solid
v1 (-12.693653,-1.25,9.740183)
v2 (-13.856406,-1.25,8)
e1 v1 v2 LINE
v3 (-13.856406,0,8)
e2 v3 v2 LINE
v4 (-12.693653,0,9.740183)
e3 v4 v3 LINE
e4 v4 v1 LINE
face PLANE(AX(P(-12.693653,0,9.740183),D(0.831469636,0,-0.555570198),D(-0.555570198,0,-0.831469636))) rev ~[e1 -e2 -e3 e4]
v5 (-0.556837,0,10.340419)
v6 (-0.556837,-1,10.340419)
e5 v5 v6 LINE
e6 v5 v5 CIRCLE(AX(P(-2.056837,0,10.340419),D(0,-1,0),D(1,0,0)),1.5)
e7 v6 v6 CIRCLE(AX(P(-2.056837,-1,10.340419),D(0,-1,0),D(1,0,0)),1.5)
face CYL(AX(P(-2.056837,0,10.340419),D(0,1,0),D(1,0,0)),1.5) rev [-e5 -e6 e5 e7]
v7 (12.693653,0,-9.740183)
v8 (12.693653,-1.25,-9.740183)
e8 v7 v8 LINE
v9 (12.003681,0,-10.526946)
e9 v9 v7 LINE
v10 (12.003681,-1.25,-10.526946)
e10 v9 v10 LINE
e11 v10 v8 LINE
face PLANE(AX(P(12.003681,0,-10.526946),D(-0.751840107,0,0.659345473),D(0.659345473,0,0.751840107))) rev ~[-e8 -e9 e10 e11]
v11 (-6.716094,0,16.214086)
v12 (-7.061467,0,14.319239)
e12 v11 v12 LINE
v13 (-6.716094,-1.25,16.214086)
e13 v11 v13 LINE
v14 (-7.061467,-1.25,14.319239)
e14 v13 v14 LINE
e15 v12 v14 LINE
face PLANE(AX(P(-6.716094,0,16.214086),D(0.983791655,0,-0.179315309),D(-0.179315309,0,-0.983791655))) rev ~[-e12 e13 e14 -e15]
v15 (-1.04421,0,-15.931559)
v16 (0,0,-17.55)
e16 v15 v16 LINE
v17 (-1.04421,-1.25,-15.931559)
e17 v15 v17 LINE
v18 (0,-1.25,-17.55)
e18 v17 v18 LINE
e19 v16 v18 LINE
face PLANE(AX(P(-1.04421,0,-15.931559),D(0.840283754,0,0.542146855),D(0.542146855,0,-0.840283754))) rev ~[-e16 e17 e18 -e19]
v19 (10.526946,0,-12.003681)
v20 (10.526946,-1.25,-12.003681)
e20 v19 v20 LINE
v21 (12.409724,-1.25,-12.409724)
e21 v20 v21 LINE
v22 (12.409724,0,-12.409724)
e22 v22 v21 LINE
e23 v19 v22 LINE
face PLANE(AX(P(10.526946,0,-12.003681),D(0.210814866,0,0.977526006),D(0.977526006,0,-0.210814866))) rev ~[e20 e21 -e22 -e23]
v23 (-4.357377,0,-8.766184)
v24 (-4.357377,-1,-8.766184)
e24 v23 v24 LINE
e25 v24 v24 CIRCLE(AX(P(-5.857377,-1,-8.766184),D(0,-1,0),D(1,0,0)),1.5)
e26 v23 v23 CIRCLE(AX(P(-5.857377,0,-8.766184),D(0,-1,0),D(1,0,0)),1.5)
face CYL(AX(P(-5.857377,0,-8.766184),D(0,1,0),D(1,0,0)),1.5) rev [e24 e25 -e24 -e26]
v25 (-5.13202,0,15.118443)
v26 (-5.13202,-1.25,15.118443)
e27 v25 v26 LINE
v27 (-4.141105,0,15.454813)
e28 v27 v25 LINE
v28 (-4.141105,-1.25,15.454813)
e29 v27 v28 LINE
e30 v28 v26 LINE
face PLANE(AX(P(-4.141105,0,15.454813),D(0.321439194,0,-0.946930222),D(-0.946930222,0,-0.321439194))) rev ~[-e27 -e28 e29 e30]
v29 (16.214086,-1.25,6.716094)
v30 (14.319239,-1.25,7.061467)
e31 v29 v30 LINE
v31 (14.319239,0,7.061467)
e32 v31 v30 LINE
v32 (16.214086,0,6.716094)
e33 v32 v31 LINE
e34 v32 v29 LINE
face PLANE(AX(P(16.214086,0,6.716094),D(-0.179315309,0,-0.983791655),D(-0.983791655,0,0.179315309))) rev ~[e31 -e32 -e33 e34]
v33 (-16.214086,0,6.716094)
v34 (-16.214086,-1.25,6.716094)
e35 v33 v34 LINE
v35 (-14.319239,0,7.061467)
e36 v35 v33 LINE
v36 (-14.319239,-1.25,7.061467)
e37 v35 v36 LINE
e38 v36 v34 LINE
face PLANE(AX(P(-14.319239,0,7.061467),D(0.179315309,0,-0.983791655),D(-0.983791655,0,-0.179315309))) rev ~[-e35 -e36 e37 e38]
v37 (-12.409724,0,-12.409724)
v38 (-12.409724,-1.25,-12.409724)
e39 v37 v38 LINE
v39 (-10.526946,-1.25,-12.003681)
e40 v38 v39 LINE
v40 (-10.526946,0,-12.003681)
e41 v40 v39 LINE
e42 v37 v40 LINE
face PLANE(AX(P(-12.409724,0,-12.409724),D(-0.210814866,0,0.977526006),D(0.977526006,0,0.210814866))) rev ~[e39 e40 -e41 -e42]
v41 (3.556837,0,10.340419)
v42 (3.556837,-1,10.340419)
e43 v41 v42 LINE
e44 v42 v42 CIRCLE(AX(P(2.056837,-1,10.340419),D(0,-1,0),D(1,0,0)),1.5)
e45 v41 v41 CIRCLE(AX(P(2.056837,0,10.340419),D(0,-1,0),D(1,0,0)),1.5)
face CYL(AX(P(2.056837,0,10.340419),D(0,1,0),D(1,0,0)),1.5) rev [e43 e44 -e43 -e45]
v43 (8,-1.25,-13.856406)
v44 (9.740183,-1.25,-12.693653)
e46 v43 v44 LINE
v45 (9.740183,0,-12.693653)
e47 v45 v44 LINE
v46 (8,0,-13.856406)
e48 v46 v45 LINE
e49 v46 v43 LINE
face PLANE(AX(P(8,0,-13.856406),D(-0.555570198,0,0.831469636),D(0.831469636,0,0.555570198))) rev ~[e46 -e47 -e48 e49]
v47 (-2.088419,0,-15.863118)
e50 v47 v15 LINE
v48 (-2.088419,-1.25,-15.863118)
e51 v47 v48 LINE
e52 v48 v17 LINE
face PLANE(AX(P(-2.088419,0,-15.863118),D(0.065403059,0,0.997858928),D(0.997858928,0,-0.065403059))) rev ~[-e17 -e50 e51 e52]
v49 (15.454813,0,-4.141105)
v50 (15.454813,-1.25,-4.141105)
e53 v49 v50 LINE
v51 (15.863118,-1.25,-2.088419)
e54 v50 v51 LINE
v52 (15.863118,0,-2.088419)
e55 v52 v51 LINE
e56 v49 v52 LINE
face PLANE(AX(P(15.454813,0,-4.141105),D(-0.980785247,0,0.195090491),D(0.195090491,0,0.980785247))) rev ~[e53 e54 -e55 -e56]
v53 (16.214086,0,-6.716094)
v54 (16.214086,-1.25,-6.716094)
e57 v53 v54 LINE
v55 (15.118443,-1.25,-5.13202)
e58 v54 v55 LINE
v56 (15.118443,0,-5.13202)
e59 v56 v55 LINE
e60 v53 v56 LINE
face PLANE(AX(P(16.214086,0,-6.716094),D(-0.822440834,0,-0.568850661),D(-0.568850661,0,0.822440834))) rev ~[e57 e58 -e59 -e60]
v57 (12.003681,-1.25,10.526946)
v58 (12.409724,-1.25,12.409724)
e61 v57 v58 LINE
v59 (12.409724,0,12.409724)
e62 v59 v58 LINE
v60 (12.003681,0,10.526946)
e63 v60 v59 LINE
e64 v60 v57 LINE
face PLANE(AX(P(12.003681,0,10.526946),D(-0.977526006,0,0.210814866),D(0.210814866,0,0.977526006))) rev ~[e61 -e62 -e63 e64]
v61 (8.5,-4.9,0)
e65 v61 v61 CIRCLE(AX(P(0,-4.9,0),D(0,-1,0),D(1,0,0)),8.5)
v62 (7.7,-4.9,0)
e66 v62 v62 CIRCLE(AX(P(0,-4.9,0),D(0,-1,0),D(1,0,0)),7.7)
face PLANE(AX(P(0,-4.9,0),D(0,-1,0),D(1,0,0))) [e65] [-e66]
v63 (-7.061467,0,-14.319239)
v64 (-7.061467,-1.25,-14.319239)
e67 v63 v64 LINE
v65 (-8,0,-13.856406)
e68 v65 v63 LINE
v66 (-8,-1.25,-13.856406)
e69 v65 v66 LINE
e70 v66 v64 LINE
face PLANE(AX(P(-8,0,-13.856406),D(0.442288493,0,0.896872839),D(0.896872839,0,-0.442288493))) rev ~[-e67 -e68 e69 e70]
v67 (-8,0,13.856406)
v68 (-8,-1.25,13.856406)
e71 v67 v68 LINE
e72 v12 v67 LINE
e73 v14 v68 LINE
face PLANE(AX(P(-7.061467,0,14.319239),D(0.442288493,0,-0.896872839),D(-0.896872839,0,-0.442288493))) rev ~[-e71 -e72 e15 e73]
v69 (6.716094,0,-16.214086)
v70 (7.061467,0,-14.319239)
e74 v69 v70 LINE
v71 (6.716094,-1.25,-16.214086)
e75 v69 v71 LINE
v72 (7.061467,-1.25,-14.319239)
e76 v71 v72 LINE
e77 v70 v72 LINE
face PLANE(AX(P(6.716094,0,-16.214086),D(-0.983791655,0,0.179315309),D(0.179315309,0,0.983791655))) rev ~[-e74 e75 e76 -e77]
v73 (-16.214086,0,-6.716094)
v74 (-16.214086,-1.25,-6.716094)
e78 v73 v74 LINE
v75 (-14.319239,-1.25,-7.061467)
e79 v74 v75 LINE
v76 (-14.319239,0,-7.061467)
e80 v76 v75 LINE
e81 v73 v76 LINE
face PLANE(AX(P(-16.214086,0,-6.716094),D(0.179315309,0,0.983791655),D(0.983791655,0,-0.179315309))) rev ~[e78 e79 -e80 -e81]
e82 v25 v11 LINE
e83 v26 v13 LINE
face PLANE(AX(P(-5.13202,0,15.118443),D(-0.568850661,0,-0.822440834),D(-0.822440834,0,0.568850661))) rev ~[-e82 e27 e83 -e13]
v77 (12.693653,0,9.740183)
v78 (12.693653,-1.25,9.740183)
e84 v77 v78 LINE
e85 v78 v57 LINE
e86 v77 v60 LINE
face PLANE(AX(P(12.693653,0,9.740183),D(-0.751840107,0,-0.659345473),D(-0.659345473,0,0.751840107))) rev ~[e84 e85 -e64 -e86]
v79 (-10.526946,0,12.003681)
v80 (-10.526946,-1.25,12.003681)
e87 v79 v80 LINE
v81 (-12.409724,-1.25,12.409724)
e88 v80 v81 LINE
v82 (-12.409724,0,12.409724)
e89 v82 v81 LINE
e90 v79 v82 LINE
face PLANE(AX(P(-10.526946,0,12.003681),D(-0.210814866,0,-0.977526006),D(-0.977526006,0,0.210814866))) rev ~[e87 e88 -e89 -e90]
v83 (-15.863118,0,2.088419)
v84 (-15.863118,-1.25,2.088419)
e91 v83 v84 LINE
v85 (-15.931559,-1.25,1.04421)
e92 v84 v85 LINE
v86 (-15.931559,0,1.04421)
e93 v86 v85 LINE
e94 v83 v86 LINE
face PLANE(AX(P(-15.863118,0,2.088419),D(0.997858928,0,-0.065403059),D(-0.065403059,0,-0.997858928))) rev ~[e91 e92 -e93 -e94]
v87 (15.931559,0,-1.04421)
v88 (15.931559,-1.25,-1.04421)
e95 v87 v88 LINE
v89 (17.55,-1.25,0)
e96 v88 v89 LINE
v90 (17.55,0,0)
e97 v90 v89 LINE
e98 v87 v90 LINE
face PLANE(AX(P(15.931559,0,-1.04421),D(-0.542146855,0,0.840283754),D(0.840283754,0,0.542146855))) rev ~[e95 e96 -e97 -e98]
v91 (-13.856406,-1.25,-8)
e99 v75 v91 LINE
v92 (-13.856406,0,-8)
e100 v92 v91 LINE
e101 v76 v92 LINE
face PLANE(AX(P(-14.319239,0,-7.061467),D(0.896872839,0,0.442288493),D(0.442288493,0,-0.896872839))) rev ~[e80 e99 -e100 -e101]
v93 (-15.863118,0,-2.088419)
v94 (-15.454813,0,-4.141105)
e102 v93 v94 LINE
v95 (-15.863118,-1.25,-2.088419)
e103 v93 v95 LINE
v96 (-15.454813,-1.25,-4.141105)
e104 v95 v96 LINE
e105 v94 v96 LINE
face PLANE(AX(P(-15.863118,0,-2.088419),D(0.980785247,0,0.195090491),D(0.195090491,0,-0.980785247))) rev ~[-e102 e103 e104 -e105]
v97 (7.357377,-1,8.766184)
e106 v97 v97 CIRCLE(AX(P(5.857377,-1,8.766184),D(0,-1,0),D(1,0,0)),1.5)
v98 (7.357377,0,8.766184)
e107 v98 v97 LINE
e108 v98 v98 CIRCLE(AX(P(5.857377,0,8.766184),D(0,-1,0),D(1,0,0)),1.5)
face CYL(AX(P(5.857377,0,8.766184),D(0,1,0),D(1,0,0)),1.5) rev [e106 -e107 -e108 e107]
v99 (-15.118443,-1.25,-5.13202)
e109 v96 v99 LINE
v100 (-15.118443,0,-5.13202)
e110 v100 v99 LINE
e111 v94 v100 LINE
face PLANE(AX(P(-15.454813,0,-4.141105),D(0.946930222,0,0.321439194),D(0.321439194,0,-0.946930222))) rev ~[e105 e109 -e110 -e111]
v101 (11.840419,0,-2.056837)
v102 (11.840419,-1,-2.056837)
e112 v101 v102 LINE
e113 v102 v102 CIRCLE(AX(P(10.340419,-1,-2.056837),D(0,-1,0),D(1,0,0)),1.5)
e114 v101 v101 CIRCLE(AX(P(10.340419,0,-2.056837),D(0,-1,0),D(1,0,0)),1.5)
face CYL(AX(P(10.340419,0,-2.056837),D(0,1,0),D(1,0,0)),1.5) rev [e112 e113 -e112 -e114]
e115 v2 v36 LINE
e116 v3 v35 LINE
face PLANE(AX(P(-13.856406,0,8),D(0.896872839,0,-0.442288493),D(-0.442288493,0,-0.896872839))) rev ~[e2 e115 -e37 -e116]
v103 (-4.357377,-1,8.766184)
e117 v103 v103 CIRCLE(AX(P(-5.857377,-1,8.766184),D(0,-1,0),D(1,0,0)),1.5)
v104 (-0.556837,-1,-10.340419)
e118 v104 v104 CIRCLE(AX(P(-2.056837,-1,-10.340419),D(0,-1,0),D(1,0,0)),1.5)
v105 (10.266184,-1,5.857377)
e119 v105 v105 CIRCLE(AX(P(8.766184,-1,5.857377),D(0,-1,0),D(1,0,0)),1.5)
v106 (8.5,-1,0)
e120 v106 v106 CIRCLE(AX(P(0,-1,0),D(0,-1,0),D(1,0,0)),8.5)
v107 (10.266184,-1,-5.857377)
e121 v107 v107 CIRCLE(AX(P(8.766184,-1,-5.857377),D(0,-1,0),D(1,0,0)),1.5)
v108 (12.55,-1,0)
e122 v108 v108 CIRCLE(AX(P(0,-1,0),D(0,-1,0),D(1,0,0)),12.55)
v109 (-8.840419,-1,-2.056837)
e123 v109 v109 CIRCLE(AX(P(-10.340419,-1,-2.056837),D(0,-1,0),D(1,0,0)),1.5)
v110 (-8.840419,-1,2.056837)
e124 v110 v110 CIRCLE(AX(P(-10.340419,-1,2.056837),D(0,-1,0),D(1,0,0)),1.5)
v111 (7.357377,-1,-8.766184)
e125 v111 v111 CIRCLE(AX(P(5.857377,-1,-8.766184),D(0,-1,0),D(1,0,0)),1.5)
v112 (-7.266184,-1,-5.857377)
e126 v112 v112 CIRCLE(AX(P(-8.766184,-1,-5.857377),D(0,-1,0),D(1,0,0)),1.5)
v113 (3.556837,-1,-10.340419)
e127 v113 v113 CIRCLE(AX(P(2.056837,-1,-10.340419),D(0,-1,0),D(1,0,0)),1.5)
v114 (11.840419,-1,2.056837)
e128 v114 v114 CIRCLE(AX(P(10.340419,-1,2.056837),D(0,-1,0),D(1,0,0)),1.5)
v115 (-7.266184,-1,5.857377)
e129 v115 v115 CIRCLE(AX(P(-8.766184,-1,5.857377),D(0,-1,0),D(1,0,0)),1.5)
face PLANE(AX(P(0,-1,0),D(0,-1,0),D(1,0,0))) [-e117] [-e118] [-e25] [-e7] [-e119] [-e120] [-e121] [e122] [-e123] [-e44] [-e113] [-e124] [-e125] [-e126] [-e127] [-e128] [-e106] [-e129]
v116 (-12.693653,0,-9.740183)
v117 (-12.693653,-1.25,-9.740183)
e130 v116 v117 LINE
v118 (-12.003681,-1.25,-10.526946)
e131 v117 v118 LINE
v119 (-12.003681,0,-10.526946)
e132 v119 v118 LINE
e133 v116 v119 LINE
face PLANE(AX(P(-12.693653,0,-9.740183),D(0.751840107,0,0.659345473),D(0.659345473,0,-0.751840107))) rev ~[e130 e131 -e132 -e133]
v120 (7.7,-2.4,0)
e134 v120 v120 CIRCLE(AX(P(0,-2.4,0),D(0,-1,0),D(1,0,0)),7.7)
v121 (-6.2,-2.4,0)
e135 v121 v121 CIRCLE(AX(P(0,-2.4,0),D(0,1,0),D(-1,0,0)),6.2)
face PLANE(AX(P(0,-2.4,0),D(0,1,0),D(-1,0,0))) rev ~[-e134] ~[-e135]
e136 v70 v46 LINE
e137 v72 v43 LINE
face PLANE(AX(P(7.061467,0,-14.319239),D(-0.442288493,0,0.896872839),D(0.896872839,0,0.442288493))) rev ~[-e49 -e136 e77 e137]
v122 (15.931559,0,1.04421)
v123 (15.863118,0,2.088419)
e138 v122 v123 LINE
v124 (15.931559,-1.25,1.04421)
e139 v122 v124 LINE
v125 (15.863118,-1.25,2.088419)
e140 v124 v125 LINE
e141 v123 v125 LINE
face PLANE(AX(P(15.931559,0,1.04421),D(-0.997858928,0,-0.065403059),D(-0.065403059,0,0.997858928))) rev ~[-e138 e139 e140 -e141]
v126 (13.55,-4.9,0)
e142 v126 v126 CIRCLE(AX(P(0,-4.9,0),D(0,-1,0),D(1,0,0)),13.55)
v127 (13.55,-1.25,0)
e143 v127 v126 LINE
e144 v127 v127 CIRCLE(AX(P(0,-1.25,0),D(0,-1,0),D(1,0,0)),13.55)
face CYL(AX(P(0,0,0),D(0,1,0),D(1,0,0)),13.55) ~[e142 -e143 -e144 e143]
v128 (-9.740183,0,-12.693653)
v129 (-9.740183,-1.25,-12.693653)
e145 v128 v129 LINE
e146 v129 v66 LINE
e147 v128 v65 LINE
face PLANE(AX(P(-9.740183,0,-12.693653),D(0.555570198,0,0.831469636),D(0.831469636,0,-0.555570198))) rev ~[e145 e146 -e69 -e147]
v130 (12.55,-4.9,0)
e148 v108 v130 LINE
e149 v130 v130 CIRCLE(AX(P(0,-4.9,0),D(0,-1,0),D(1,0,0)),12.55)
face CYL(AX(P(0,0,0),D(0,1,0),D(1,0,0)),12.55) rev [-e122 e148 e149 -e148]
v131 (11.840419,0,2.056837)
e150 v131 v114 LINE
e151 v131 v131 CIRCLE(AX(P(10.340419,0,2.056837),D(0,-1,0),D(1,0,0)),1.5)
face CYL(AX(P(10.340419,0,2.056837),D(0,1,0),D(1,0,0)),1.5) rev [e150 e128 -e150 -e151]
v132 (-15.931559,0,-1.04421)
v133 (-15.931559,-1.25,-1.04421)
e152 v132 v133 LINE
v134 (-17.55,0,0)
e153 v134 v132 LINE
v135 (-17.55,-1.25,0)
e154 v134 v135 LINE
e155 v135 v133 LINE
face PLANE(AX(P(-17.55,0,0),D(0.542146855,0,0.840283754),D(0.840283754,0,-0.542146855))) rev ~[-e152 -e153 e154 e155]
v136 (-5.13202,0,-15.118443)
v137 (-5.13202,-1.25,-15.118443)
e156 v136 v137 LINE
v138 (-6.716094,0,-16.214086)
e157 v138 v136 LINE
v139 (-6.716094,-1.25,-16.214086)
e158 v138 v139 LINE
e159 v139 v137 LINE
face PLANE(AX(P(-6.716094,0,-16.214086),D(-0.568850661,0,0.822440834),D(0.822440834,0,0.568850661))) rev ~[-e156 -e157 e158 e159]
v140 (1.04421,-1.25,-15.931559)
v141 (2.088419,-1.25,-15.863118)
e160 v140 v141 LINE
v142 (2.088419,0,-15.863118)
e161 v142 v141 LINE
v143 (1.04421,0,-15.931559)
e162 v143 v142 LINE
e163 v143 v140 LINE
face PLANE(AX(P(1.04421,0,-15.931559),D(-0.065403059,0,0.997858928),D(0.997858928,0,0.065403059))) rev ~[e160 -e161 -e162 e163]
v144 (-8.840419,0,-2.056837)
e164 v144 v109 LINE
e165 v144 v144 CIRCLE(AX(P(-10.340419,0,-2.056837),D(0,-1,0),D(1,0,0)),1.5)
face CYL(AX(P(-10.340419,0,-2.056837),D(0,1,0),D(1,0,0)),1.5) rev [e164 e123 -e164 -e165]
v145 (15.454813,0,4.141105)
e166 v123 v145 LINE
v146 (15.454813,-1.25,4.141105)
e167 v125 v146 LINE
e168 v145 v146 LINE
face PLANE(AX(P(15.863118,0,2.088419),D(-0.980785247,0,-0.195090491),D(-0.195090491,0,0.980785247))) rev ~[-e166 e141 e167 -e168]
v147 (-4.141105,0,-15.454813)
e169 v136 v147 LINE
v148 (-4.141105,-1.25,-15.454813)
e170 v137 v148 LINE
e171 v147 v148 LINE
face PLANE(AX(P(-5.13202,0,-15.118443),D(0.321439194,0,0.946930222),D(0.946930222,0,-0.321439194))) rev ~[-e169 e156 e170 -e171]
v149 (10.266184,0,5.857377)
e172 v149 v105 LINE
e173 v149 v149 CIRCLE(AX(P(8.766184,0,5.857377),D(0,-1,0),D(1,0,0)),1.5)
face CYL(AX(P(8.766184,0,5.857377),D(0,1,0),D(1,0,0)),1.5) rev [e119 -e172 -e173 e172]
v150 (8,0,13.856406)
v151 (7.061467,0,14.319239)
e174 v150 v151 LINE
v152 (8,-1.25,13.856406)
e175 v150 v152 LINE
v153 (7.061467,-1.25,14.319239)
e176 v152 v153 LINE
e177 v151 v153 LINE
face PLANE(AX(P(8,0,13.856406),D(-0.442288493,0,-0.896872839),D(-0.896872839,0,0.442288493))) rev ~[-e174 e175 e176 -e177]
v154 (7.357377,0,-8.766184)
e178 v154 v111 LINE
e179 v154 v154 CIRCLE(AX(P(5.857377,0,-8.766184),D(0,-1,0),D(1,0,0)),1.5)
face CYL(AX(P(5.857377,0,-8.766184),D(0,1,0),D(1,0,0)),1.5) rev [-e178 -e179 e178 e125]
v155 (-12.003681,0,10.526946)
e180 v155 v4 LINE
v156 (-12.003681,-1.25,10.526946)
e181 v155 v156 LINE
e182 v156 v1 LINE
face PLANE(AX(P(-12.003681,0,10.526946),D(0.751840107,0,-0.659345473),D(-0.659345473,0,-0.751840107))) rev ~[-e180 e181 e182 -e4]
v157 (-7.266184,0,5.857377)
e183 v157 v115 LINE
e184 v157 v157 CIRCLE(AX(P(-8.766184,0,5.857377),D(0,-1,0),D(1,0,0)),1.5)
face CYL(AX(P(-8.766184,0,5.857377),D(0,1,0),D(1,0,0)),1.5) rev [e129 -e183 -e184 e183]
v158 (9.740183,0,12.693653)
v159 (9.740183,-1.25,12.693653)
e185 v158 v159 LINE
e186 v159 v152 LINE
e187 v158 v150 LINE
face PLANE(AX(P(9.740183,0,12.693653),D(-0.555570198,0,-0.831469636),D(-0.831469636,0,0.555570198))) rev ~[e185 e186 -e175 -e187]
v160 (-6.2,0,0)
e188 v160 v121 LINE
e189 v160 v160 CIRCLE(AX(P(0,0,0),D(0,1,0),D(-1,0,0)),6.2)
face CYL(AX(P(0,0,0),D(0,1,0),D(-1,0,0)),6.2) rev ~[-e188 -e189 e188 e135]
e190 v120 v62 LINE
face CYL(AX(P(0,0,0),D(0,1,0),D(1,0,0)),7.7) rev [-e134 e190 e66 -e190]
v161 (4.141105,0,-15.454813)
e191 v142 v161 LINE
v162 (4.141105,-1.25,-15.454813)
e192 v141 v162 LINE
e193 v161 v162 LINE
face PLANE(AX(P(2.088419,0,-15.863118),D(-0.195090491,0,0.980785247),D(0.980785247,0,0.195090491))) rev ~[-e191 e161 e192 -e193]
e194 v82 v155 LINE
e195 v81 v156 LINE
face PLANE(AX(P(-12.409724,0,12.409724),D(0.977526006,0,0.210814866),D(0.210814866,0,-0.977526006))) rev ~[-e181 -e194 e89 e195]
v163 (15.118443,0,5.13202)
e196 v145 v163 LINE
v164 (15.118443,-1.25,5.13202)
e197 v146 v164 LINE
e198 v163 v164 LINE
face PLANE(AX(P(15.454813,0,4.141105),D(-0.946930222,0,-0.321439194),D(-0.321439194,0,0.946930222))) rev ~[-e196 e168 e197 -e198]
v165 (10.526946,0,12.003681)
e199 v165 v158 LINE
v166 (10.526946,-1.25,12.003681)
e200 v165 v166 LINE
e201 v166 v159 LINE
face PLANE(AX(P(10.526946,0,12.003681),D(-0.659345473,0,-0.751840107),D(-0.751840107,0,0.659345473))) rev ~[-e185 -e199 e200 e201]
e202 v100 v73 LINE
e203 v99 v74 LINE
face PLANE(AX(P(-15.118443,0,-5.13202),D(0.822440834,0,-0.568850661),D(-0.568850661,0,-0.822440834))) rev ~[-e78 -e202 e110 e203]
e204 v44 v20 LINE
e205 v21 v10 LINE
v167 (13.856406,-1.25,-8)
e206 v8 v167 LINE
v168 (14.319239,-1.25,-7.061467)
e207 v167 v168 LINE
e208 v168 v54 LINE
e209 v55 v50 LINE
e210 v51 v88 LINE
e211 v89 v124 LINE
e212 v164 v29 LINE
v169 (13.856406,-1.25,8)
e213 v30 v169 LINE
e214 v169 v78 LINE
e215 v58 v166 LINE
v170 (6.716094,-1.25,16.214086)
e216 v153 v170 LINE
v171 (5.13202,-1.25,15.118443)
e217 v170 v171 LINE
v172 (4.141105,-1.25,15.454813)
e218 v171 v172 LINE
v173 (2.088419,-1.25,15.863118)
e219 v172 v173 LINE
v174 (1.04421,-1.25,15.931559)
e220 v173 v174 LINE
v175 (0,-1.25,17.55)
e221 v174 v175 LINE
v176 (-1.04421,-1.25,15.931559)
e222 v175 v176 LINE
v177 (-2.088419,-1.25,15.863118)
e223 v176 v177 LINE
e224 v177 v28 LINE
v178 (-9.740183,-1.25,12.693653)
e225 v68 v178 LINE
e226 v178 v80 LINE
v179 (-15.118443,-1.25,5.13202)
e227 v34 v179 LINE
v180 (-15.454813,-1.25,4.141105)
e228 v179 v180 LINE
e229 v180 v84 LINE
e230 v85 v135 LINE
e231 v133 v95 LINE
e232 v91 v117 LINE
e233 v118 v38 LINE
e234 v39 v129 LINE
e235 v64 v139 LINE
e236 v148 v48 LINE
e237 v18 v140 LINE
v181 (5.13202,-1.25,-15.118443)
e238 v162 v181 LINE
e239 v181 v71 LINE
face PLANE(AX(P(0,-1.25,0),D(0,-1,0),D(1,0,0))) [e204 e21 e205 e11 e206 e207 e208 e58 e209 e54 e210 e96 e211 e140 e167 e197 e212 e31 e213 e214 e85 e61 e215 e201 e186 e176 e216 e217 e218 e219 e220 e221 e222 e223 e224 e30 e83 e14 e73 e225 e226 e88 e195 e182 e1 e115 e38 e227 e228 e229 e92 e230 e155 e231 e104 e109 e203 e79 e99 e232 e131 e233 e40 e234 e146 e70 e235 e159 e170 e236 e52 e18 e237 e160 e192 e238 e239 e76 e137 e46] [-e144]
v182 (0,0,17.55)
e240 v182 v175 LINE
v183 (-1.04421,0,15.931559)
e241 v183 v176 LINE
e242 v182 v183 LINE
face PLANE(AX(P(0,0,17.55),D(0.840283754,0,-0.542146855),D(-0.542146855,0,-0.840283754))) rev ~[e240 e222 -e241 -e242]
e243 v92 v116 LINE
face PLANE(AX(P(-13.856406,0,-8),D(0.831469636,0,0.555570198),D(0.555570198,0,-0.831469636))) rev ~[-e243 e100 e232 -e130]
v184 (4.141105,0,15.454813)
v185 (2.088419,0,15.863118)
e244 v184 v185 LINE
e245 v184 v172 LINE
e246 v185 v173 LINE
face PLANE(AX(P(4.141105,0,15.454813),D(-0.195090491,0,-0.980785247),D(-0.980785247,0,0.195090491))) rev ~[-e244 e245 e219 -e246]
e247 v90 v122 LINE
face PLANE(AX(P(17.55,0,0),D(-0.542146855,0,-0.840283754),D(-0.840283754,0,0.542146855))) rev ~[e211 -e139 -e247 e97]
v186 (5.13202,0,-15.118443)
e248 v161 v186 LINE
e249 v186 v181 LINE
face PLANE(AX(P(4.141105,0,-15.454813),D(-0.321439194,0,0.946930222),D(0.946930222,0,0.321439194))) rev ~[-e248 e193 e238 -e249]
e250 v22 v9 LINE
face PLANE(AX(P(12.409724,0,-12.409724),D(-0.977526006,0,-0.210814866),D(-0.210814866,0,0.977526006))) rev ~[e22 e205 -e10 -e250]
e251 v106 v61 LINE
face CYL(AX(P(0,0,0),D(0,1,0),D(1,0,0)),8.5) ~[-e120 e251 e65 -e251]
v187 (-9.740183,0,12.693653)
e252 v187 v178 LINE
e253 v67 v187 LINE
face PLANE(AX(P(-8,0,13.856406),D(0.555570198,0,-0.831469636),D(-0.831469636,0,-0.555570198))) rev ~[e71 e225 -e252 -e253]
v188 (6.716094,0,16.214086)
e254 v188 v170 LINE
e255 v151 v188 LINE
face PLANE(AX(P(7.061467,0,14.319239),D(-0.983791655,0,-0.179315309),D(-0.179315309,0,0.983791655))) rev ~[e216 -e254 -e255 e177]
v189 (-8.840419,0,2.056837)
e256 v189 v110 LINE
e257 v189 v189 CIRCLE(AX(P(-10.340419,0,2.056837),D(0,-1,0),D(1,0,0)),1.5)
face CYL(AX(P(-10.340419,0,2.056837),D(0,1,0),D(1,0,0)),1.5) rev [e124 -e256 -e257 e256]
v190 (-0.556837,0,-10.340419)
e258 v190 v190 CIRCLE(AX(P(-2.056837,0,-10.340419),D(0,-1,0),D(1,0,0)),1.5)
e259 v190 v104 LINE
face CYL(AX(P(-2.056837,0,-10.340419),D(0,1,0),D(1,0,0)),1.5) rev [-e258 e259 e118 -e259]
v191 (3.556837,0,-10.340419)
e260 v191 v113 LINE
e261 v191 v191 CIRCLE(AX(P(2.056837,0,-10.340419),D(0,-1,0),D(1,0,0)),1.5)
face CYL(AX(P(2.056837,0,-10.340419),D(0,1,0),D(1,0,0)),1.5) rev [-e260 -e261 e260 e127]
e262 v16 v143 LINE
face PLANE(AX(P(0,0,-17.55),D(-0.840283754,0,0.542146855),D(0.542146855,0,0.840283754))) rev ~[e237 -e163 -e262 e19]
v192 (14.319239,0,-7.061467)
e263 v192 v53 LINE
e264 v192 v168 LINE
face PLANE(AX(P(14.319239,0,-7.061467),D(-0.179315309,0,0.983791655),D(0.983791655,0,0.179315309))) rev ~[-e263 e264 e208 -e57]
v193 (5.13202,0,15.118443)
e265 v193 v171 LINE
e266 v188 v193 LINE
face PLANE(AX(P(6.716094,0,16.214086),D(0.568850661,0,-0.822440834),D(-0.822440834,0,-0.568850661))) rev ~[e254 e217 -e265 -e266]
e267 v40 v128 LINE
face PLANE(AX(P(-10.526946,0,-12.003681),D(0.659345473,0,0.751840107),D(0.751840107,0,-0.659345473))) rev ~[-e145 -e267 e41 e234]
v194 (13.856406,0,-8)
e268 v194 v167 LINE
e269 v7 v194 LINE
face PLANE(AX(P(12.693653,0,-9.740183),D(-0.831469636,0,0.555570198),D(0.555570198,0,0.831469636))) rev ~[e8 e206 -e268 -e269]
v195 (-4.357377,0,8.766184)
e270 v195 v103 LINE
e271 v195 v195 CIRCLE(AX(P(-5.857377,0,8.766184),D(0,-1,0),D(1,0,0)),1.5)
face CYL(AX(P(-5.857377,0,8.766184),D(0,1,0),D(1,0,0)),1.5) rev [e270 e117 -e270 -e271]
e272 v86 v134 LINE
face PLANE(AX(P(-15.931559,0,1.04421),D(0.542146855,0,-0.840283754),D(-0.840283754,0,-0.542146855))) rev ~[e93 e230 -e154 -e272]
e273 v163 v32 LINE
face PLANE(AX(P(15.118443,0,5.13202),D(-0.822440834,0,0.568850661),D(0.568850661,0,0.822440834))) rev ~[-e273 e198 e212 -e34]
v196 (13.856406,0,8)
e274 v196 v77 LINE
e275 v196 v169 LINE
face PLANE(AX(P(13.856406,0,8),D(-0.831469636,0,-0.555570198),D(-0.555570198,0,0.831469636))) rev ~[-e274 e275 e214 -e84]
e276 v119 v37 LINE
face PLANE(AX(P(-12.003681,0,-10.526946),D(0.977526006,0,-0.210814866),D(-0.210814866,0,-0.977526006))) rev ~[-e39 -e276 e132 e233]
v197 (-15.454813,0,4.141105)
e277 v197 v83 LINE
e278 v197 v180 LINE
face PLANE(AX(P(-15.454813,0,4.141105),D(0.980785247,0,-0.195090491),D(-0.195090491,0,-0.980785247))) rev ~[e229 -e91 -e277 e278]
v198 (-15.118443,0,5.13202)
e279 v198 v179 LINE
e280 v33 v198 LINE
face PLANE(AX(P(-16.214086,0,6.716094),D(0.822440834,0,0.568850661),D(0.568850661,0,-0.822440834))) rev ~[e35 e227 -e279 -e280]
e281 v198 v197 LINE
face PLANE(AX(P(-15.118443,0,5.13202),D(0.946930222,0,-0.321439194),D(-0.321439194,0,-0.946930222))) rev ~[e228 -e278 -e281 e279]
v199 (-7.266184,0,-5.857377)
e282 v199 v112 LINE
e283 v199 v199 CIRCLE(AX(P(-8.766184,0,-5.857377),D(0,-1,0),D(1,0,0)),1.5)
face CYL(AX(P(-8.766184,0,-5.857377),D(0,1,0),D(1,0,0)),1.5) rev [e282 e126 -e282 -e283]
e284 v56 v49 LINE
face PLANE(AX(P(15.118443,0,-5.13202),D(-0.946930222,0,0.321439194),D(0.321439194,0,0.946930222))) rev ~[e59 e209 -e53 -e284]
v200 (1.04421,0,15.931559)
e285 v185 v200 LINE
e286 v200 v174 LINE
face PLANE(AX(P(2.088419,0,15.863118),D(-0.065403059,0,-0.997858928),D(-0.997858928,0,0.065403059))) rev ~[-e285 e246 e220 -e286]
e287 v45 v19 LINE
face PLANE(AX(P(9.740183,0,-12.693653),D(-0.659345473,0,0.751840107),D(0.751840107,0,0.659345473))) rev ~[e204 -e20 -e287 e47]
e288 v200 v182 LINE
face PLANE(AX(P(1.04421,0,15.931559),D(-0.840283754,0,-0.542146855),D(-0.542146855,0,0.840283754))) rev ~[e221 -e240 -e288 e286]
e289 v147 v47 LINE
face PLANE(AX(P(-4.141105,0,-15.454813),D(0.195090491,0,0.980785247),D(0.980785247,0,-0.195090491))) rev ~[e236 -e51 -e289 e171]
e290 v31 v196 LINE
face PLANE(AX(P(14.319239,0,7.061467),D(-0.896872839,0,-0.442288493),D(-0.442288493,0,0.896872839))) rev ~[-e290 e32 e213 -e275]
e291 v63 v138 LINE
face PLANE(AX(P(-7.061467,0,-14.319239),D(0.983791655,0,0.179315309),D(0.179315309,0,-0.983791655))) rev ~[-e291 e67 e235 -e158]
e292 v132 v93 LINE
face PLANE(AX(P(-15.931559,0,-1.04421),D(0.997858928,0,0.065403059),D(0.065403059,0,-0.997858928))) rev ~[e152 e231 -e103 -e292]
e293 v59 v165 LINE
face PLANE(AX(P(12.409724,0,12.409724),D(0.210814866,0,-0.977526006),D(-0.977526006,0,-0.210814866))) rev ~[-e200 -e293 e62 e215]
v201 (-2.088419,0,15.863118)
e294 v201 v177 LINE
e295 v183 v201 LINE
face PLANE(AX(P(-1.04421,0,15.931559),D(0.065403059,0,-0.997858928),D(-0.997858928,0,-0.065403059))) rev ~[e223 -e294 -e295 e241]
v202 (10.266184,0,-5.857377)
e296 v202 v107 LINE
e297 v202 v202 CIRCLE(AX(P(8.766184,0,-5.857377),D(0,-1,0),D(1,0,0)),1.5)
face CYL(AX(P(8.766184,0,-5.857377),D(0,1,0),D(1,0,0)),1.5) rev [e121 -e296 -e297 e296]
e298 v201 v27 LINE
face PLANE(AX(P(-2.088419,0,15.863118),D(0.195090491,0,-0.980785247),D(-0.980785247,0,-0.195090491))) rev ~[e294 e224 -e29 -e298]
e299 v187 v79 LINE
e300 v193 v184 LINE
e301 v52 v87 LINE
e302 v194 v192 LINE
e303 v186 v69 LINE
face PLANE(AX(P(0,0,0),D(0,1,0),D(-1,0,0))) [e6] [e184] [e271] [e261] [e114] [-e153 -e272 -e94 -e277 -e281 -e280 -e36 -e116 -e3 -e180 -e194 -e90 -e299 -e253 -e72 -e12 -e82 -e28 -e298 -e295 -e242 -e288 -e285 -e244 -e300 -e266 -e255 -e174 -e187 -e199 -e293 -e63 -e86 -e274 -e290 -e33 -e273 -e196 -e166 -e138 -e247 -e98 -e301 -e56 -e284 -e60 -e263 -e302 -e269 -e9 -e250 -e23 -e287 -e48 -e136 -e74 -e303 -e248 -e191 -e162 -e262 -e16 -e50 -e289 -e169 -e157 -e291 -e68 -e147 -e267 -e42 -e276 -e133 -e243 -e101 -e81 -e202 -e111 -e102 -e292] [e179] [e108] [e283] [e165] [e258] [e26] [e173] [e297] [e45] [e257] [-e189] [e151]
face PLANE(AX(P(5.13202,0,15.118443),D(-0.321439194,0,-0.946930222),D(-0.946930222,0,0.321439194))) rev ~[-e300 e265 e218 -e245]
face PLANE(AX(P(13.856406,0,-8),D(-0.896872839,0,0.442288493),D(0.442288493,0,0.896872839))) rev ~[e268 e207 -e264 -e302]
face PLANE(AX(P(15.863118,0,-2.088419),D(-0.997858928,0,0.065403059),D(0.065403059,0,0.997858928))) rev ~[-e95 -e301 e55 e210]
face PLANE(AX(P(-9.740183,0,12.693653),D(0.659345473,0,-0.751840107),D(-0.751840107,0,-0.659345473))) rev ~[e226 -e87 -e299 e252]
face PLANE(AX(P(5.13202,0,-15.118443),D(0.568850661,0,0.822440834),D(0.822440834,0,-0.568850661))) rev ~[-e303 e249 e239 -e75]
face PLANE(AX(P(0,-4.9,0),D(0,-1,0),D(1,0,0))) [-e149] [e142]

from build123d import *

# Parameters (mm, degrees)
F0_R     = 13.55
F1_DEPTH = 1.25
F0_R_2   = 12.55
F2_DEPTH = 4.9
F0_R_3   = 1.5
F0_R_4   = 8.5
F3_DEPTH = 1
F0_R_5   = 7.7
F4_DEPTH = 4.9
F5_R     = 7.7
F5_R_2   = 6.2
F6_DEPTH = 2.4


with BuildPart() as f1:
    # F0 (on Front) → F1 (new body)
    with BuildSketch(Plane.XZ):
        Polygon((4.141105, 15.454813), (2.088419, 15.863118), (1.04421, 15.931559), (0, 17.55), (-1.04421, 15.931559), (-2.088419, 15.863118), (-4.141105, 15.454813), (-5.13202, 15.118443), (-6.716094, 16.214086), (-7.061467, 14.319239), (-8, 13.856406), (-9.740183, 12.693653), (-10.526946, 12.003681), (-12.409724, 12.409724), (-12.003681, 10.526946), (-12.693653, 9.740183), (-13.856406, 8), (-14.319239, 7.061467), (-16.214086, 6.716094), (-15.118443, 5.13202), (-15.454813, 4.141105), (-15.863118, 2.088419), (-15.931559, 1.04421), (-17.55, 0), (-15.931559, -1.04421), (-15.863118, -2.088419), (-15.454813, -4.141105), (-15.118443, -5.13202), (-16.214086, -6.716094), (-14.319239, -7.061467), (-13.856406, -8), (-12.693653, -9.740183), (-12.003681, -10.526946), (-12.409724, -12.409724), (-10.526946, -12.003681), (-9.740183, -12.693653), (-8, -13.856406), (-7.061467, -14.319239), (-6.716094, -16.214086), (-5.13202, -15.118443), (-4.141105, -15.454813), (-2.088419, -15.863118), (-1.04421, -15.931559), (0, -17.55), (1.04421, -15.931559), (2.088419, -15.863118), (4.141105, -15.454813), (5.13202, -15.118443), (6.716094, -16.214086), (7.061467, -14.319239), (8, -13.856406), (9.740183, -12.693653), (10.526946, -12.003681), (12.409724, -12.409724), (12.003681, -10.526946), (12.693653, -9.740183), (13.856406, -8), (14.319239, -7.061467), (16.214086, -6.716094), (15.118443, -5.13202), (15.454813, -4.141105), (15.863118, -2.088419), (15.931559, -1.04421), (17.55, 0), (15.931559, 1.04421), (15.863118, 2.088419), (15.454813, 4.141105), (15.118443, 5.13202), (16.214086, 6.716094), (14.319239, 7.061467), (13.856406, 8), (12.693653, 9.740183), (12.003681, 10.526946), (12.409724, 12.409724), (10.526946, 12.003681), (9.740183, 12.693653), (8, 13.856406), (7.061467, 14.319239), (6.716094, 16.214086), (5.13202, 15.118443), align=None)
        Circle(F0_R, mode=Mode.SUBTRACT)
    extrude(amount=F1_DEPTH)

    # F0 (on Front) → F2 (join)
    with BuildSketch(Plane.XZ):
        Circle(F0_R)
        Circle(F0_R_2, mode=Mode.SUBTRACT)
    extrude(amount=F2_DEPTH)

    # F0 (on Front) → F3 (join)
    with BuildSketch(Plane.XZ):
        Circle(F0_R_2)
        with Locations((-2.056837, -10.340419)):
            Circle(F0_R_3, mode=Mode.SUBTRACT)
        with Locations((-10.340419, -2.056837)):
            Circle(F0_R_3, mode=Mode.SUBTRACT)
        with Locations((-5.857377, -8.766184)):
            Circle(F0_R_3, mode=Mode.SUBTRACT)
        with Locations((-8.766184, -5.857377)):
            Circle(F0_R_3, mode=Mode.SUBTRACT)
        with Locations((2.056837, -10.340419)):
            Circle(F0_R_3, mode=Mode.SUBTRACT)
        with Locations((5.857377, -8.766184)):
            Circle(F0_R_3, mode=Mode.SUBTRACT)
        with Locations((8.766184, -5.857377)):
            Circle(F0_R_3, mode=Mode.SUBTRACT)
        with Locations((10.340419, -2.056837)):
            Circle(F0_R_3, mode=Mode.SUBTRACT)
        with Locations((-10.340419, 2.056837)):
            Circle(F0_R_3, mode=Mode.SUBTRACT)
        with Locations((-8.766184, 5.857377)):
            Circle(F0_R_3, mode=Mode.SUBTRACT)
        with Locations((-5.857377, 8.766184)):
            Circle(F0_R_3, mode=Mode.SUBTRACT)
        with Locations((-2.056837, 10.340419)):
            Circle(F0_R_3, mode=Mode.SUBTRACT)
        Circle(F0_R_4, mode=Mode.SUBTRACT)
        with Locations((8.766184, 5.857377)):
            Circle(F0_R_3, mode=Mode.SUBTRACT)
        with Locations((5.857377, 8.766184)):
            Circle(F0_R_3, mode=Mode.SUBTRACT)
        with Locations((10.340419, 2.056837)):
            Circle(F0_R_3, mode=Mode.SUBTRACT)
        with Locations((2.056837, 10.340419)):
            Circle(F0_R_3, mode=Mode.SUBTRACT)
    extrude(amount=F3_DEPTH)

    # F0 (on Front) → F4 (join)
    with BuildSketch(Plane.XZ):
        Circle(F0_R_4)
        Circle(F0_R_5, mode=Mode.SUBTRACT)
    extrude(amount=F4_DEPTH)

    # F5 (on face) → F6 (join)
    with BuildSketch(Plane(origin=(0, 0, 0), x_dir=(-1, 0, 0), z_dir=(0, 1, 0))):
        Circle(F5_R)
        Circle(F5_R_2, mode=Mode.SUBTRACT)
    extrude(amount=-F6_DEPTH)


solid = f1.part
